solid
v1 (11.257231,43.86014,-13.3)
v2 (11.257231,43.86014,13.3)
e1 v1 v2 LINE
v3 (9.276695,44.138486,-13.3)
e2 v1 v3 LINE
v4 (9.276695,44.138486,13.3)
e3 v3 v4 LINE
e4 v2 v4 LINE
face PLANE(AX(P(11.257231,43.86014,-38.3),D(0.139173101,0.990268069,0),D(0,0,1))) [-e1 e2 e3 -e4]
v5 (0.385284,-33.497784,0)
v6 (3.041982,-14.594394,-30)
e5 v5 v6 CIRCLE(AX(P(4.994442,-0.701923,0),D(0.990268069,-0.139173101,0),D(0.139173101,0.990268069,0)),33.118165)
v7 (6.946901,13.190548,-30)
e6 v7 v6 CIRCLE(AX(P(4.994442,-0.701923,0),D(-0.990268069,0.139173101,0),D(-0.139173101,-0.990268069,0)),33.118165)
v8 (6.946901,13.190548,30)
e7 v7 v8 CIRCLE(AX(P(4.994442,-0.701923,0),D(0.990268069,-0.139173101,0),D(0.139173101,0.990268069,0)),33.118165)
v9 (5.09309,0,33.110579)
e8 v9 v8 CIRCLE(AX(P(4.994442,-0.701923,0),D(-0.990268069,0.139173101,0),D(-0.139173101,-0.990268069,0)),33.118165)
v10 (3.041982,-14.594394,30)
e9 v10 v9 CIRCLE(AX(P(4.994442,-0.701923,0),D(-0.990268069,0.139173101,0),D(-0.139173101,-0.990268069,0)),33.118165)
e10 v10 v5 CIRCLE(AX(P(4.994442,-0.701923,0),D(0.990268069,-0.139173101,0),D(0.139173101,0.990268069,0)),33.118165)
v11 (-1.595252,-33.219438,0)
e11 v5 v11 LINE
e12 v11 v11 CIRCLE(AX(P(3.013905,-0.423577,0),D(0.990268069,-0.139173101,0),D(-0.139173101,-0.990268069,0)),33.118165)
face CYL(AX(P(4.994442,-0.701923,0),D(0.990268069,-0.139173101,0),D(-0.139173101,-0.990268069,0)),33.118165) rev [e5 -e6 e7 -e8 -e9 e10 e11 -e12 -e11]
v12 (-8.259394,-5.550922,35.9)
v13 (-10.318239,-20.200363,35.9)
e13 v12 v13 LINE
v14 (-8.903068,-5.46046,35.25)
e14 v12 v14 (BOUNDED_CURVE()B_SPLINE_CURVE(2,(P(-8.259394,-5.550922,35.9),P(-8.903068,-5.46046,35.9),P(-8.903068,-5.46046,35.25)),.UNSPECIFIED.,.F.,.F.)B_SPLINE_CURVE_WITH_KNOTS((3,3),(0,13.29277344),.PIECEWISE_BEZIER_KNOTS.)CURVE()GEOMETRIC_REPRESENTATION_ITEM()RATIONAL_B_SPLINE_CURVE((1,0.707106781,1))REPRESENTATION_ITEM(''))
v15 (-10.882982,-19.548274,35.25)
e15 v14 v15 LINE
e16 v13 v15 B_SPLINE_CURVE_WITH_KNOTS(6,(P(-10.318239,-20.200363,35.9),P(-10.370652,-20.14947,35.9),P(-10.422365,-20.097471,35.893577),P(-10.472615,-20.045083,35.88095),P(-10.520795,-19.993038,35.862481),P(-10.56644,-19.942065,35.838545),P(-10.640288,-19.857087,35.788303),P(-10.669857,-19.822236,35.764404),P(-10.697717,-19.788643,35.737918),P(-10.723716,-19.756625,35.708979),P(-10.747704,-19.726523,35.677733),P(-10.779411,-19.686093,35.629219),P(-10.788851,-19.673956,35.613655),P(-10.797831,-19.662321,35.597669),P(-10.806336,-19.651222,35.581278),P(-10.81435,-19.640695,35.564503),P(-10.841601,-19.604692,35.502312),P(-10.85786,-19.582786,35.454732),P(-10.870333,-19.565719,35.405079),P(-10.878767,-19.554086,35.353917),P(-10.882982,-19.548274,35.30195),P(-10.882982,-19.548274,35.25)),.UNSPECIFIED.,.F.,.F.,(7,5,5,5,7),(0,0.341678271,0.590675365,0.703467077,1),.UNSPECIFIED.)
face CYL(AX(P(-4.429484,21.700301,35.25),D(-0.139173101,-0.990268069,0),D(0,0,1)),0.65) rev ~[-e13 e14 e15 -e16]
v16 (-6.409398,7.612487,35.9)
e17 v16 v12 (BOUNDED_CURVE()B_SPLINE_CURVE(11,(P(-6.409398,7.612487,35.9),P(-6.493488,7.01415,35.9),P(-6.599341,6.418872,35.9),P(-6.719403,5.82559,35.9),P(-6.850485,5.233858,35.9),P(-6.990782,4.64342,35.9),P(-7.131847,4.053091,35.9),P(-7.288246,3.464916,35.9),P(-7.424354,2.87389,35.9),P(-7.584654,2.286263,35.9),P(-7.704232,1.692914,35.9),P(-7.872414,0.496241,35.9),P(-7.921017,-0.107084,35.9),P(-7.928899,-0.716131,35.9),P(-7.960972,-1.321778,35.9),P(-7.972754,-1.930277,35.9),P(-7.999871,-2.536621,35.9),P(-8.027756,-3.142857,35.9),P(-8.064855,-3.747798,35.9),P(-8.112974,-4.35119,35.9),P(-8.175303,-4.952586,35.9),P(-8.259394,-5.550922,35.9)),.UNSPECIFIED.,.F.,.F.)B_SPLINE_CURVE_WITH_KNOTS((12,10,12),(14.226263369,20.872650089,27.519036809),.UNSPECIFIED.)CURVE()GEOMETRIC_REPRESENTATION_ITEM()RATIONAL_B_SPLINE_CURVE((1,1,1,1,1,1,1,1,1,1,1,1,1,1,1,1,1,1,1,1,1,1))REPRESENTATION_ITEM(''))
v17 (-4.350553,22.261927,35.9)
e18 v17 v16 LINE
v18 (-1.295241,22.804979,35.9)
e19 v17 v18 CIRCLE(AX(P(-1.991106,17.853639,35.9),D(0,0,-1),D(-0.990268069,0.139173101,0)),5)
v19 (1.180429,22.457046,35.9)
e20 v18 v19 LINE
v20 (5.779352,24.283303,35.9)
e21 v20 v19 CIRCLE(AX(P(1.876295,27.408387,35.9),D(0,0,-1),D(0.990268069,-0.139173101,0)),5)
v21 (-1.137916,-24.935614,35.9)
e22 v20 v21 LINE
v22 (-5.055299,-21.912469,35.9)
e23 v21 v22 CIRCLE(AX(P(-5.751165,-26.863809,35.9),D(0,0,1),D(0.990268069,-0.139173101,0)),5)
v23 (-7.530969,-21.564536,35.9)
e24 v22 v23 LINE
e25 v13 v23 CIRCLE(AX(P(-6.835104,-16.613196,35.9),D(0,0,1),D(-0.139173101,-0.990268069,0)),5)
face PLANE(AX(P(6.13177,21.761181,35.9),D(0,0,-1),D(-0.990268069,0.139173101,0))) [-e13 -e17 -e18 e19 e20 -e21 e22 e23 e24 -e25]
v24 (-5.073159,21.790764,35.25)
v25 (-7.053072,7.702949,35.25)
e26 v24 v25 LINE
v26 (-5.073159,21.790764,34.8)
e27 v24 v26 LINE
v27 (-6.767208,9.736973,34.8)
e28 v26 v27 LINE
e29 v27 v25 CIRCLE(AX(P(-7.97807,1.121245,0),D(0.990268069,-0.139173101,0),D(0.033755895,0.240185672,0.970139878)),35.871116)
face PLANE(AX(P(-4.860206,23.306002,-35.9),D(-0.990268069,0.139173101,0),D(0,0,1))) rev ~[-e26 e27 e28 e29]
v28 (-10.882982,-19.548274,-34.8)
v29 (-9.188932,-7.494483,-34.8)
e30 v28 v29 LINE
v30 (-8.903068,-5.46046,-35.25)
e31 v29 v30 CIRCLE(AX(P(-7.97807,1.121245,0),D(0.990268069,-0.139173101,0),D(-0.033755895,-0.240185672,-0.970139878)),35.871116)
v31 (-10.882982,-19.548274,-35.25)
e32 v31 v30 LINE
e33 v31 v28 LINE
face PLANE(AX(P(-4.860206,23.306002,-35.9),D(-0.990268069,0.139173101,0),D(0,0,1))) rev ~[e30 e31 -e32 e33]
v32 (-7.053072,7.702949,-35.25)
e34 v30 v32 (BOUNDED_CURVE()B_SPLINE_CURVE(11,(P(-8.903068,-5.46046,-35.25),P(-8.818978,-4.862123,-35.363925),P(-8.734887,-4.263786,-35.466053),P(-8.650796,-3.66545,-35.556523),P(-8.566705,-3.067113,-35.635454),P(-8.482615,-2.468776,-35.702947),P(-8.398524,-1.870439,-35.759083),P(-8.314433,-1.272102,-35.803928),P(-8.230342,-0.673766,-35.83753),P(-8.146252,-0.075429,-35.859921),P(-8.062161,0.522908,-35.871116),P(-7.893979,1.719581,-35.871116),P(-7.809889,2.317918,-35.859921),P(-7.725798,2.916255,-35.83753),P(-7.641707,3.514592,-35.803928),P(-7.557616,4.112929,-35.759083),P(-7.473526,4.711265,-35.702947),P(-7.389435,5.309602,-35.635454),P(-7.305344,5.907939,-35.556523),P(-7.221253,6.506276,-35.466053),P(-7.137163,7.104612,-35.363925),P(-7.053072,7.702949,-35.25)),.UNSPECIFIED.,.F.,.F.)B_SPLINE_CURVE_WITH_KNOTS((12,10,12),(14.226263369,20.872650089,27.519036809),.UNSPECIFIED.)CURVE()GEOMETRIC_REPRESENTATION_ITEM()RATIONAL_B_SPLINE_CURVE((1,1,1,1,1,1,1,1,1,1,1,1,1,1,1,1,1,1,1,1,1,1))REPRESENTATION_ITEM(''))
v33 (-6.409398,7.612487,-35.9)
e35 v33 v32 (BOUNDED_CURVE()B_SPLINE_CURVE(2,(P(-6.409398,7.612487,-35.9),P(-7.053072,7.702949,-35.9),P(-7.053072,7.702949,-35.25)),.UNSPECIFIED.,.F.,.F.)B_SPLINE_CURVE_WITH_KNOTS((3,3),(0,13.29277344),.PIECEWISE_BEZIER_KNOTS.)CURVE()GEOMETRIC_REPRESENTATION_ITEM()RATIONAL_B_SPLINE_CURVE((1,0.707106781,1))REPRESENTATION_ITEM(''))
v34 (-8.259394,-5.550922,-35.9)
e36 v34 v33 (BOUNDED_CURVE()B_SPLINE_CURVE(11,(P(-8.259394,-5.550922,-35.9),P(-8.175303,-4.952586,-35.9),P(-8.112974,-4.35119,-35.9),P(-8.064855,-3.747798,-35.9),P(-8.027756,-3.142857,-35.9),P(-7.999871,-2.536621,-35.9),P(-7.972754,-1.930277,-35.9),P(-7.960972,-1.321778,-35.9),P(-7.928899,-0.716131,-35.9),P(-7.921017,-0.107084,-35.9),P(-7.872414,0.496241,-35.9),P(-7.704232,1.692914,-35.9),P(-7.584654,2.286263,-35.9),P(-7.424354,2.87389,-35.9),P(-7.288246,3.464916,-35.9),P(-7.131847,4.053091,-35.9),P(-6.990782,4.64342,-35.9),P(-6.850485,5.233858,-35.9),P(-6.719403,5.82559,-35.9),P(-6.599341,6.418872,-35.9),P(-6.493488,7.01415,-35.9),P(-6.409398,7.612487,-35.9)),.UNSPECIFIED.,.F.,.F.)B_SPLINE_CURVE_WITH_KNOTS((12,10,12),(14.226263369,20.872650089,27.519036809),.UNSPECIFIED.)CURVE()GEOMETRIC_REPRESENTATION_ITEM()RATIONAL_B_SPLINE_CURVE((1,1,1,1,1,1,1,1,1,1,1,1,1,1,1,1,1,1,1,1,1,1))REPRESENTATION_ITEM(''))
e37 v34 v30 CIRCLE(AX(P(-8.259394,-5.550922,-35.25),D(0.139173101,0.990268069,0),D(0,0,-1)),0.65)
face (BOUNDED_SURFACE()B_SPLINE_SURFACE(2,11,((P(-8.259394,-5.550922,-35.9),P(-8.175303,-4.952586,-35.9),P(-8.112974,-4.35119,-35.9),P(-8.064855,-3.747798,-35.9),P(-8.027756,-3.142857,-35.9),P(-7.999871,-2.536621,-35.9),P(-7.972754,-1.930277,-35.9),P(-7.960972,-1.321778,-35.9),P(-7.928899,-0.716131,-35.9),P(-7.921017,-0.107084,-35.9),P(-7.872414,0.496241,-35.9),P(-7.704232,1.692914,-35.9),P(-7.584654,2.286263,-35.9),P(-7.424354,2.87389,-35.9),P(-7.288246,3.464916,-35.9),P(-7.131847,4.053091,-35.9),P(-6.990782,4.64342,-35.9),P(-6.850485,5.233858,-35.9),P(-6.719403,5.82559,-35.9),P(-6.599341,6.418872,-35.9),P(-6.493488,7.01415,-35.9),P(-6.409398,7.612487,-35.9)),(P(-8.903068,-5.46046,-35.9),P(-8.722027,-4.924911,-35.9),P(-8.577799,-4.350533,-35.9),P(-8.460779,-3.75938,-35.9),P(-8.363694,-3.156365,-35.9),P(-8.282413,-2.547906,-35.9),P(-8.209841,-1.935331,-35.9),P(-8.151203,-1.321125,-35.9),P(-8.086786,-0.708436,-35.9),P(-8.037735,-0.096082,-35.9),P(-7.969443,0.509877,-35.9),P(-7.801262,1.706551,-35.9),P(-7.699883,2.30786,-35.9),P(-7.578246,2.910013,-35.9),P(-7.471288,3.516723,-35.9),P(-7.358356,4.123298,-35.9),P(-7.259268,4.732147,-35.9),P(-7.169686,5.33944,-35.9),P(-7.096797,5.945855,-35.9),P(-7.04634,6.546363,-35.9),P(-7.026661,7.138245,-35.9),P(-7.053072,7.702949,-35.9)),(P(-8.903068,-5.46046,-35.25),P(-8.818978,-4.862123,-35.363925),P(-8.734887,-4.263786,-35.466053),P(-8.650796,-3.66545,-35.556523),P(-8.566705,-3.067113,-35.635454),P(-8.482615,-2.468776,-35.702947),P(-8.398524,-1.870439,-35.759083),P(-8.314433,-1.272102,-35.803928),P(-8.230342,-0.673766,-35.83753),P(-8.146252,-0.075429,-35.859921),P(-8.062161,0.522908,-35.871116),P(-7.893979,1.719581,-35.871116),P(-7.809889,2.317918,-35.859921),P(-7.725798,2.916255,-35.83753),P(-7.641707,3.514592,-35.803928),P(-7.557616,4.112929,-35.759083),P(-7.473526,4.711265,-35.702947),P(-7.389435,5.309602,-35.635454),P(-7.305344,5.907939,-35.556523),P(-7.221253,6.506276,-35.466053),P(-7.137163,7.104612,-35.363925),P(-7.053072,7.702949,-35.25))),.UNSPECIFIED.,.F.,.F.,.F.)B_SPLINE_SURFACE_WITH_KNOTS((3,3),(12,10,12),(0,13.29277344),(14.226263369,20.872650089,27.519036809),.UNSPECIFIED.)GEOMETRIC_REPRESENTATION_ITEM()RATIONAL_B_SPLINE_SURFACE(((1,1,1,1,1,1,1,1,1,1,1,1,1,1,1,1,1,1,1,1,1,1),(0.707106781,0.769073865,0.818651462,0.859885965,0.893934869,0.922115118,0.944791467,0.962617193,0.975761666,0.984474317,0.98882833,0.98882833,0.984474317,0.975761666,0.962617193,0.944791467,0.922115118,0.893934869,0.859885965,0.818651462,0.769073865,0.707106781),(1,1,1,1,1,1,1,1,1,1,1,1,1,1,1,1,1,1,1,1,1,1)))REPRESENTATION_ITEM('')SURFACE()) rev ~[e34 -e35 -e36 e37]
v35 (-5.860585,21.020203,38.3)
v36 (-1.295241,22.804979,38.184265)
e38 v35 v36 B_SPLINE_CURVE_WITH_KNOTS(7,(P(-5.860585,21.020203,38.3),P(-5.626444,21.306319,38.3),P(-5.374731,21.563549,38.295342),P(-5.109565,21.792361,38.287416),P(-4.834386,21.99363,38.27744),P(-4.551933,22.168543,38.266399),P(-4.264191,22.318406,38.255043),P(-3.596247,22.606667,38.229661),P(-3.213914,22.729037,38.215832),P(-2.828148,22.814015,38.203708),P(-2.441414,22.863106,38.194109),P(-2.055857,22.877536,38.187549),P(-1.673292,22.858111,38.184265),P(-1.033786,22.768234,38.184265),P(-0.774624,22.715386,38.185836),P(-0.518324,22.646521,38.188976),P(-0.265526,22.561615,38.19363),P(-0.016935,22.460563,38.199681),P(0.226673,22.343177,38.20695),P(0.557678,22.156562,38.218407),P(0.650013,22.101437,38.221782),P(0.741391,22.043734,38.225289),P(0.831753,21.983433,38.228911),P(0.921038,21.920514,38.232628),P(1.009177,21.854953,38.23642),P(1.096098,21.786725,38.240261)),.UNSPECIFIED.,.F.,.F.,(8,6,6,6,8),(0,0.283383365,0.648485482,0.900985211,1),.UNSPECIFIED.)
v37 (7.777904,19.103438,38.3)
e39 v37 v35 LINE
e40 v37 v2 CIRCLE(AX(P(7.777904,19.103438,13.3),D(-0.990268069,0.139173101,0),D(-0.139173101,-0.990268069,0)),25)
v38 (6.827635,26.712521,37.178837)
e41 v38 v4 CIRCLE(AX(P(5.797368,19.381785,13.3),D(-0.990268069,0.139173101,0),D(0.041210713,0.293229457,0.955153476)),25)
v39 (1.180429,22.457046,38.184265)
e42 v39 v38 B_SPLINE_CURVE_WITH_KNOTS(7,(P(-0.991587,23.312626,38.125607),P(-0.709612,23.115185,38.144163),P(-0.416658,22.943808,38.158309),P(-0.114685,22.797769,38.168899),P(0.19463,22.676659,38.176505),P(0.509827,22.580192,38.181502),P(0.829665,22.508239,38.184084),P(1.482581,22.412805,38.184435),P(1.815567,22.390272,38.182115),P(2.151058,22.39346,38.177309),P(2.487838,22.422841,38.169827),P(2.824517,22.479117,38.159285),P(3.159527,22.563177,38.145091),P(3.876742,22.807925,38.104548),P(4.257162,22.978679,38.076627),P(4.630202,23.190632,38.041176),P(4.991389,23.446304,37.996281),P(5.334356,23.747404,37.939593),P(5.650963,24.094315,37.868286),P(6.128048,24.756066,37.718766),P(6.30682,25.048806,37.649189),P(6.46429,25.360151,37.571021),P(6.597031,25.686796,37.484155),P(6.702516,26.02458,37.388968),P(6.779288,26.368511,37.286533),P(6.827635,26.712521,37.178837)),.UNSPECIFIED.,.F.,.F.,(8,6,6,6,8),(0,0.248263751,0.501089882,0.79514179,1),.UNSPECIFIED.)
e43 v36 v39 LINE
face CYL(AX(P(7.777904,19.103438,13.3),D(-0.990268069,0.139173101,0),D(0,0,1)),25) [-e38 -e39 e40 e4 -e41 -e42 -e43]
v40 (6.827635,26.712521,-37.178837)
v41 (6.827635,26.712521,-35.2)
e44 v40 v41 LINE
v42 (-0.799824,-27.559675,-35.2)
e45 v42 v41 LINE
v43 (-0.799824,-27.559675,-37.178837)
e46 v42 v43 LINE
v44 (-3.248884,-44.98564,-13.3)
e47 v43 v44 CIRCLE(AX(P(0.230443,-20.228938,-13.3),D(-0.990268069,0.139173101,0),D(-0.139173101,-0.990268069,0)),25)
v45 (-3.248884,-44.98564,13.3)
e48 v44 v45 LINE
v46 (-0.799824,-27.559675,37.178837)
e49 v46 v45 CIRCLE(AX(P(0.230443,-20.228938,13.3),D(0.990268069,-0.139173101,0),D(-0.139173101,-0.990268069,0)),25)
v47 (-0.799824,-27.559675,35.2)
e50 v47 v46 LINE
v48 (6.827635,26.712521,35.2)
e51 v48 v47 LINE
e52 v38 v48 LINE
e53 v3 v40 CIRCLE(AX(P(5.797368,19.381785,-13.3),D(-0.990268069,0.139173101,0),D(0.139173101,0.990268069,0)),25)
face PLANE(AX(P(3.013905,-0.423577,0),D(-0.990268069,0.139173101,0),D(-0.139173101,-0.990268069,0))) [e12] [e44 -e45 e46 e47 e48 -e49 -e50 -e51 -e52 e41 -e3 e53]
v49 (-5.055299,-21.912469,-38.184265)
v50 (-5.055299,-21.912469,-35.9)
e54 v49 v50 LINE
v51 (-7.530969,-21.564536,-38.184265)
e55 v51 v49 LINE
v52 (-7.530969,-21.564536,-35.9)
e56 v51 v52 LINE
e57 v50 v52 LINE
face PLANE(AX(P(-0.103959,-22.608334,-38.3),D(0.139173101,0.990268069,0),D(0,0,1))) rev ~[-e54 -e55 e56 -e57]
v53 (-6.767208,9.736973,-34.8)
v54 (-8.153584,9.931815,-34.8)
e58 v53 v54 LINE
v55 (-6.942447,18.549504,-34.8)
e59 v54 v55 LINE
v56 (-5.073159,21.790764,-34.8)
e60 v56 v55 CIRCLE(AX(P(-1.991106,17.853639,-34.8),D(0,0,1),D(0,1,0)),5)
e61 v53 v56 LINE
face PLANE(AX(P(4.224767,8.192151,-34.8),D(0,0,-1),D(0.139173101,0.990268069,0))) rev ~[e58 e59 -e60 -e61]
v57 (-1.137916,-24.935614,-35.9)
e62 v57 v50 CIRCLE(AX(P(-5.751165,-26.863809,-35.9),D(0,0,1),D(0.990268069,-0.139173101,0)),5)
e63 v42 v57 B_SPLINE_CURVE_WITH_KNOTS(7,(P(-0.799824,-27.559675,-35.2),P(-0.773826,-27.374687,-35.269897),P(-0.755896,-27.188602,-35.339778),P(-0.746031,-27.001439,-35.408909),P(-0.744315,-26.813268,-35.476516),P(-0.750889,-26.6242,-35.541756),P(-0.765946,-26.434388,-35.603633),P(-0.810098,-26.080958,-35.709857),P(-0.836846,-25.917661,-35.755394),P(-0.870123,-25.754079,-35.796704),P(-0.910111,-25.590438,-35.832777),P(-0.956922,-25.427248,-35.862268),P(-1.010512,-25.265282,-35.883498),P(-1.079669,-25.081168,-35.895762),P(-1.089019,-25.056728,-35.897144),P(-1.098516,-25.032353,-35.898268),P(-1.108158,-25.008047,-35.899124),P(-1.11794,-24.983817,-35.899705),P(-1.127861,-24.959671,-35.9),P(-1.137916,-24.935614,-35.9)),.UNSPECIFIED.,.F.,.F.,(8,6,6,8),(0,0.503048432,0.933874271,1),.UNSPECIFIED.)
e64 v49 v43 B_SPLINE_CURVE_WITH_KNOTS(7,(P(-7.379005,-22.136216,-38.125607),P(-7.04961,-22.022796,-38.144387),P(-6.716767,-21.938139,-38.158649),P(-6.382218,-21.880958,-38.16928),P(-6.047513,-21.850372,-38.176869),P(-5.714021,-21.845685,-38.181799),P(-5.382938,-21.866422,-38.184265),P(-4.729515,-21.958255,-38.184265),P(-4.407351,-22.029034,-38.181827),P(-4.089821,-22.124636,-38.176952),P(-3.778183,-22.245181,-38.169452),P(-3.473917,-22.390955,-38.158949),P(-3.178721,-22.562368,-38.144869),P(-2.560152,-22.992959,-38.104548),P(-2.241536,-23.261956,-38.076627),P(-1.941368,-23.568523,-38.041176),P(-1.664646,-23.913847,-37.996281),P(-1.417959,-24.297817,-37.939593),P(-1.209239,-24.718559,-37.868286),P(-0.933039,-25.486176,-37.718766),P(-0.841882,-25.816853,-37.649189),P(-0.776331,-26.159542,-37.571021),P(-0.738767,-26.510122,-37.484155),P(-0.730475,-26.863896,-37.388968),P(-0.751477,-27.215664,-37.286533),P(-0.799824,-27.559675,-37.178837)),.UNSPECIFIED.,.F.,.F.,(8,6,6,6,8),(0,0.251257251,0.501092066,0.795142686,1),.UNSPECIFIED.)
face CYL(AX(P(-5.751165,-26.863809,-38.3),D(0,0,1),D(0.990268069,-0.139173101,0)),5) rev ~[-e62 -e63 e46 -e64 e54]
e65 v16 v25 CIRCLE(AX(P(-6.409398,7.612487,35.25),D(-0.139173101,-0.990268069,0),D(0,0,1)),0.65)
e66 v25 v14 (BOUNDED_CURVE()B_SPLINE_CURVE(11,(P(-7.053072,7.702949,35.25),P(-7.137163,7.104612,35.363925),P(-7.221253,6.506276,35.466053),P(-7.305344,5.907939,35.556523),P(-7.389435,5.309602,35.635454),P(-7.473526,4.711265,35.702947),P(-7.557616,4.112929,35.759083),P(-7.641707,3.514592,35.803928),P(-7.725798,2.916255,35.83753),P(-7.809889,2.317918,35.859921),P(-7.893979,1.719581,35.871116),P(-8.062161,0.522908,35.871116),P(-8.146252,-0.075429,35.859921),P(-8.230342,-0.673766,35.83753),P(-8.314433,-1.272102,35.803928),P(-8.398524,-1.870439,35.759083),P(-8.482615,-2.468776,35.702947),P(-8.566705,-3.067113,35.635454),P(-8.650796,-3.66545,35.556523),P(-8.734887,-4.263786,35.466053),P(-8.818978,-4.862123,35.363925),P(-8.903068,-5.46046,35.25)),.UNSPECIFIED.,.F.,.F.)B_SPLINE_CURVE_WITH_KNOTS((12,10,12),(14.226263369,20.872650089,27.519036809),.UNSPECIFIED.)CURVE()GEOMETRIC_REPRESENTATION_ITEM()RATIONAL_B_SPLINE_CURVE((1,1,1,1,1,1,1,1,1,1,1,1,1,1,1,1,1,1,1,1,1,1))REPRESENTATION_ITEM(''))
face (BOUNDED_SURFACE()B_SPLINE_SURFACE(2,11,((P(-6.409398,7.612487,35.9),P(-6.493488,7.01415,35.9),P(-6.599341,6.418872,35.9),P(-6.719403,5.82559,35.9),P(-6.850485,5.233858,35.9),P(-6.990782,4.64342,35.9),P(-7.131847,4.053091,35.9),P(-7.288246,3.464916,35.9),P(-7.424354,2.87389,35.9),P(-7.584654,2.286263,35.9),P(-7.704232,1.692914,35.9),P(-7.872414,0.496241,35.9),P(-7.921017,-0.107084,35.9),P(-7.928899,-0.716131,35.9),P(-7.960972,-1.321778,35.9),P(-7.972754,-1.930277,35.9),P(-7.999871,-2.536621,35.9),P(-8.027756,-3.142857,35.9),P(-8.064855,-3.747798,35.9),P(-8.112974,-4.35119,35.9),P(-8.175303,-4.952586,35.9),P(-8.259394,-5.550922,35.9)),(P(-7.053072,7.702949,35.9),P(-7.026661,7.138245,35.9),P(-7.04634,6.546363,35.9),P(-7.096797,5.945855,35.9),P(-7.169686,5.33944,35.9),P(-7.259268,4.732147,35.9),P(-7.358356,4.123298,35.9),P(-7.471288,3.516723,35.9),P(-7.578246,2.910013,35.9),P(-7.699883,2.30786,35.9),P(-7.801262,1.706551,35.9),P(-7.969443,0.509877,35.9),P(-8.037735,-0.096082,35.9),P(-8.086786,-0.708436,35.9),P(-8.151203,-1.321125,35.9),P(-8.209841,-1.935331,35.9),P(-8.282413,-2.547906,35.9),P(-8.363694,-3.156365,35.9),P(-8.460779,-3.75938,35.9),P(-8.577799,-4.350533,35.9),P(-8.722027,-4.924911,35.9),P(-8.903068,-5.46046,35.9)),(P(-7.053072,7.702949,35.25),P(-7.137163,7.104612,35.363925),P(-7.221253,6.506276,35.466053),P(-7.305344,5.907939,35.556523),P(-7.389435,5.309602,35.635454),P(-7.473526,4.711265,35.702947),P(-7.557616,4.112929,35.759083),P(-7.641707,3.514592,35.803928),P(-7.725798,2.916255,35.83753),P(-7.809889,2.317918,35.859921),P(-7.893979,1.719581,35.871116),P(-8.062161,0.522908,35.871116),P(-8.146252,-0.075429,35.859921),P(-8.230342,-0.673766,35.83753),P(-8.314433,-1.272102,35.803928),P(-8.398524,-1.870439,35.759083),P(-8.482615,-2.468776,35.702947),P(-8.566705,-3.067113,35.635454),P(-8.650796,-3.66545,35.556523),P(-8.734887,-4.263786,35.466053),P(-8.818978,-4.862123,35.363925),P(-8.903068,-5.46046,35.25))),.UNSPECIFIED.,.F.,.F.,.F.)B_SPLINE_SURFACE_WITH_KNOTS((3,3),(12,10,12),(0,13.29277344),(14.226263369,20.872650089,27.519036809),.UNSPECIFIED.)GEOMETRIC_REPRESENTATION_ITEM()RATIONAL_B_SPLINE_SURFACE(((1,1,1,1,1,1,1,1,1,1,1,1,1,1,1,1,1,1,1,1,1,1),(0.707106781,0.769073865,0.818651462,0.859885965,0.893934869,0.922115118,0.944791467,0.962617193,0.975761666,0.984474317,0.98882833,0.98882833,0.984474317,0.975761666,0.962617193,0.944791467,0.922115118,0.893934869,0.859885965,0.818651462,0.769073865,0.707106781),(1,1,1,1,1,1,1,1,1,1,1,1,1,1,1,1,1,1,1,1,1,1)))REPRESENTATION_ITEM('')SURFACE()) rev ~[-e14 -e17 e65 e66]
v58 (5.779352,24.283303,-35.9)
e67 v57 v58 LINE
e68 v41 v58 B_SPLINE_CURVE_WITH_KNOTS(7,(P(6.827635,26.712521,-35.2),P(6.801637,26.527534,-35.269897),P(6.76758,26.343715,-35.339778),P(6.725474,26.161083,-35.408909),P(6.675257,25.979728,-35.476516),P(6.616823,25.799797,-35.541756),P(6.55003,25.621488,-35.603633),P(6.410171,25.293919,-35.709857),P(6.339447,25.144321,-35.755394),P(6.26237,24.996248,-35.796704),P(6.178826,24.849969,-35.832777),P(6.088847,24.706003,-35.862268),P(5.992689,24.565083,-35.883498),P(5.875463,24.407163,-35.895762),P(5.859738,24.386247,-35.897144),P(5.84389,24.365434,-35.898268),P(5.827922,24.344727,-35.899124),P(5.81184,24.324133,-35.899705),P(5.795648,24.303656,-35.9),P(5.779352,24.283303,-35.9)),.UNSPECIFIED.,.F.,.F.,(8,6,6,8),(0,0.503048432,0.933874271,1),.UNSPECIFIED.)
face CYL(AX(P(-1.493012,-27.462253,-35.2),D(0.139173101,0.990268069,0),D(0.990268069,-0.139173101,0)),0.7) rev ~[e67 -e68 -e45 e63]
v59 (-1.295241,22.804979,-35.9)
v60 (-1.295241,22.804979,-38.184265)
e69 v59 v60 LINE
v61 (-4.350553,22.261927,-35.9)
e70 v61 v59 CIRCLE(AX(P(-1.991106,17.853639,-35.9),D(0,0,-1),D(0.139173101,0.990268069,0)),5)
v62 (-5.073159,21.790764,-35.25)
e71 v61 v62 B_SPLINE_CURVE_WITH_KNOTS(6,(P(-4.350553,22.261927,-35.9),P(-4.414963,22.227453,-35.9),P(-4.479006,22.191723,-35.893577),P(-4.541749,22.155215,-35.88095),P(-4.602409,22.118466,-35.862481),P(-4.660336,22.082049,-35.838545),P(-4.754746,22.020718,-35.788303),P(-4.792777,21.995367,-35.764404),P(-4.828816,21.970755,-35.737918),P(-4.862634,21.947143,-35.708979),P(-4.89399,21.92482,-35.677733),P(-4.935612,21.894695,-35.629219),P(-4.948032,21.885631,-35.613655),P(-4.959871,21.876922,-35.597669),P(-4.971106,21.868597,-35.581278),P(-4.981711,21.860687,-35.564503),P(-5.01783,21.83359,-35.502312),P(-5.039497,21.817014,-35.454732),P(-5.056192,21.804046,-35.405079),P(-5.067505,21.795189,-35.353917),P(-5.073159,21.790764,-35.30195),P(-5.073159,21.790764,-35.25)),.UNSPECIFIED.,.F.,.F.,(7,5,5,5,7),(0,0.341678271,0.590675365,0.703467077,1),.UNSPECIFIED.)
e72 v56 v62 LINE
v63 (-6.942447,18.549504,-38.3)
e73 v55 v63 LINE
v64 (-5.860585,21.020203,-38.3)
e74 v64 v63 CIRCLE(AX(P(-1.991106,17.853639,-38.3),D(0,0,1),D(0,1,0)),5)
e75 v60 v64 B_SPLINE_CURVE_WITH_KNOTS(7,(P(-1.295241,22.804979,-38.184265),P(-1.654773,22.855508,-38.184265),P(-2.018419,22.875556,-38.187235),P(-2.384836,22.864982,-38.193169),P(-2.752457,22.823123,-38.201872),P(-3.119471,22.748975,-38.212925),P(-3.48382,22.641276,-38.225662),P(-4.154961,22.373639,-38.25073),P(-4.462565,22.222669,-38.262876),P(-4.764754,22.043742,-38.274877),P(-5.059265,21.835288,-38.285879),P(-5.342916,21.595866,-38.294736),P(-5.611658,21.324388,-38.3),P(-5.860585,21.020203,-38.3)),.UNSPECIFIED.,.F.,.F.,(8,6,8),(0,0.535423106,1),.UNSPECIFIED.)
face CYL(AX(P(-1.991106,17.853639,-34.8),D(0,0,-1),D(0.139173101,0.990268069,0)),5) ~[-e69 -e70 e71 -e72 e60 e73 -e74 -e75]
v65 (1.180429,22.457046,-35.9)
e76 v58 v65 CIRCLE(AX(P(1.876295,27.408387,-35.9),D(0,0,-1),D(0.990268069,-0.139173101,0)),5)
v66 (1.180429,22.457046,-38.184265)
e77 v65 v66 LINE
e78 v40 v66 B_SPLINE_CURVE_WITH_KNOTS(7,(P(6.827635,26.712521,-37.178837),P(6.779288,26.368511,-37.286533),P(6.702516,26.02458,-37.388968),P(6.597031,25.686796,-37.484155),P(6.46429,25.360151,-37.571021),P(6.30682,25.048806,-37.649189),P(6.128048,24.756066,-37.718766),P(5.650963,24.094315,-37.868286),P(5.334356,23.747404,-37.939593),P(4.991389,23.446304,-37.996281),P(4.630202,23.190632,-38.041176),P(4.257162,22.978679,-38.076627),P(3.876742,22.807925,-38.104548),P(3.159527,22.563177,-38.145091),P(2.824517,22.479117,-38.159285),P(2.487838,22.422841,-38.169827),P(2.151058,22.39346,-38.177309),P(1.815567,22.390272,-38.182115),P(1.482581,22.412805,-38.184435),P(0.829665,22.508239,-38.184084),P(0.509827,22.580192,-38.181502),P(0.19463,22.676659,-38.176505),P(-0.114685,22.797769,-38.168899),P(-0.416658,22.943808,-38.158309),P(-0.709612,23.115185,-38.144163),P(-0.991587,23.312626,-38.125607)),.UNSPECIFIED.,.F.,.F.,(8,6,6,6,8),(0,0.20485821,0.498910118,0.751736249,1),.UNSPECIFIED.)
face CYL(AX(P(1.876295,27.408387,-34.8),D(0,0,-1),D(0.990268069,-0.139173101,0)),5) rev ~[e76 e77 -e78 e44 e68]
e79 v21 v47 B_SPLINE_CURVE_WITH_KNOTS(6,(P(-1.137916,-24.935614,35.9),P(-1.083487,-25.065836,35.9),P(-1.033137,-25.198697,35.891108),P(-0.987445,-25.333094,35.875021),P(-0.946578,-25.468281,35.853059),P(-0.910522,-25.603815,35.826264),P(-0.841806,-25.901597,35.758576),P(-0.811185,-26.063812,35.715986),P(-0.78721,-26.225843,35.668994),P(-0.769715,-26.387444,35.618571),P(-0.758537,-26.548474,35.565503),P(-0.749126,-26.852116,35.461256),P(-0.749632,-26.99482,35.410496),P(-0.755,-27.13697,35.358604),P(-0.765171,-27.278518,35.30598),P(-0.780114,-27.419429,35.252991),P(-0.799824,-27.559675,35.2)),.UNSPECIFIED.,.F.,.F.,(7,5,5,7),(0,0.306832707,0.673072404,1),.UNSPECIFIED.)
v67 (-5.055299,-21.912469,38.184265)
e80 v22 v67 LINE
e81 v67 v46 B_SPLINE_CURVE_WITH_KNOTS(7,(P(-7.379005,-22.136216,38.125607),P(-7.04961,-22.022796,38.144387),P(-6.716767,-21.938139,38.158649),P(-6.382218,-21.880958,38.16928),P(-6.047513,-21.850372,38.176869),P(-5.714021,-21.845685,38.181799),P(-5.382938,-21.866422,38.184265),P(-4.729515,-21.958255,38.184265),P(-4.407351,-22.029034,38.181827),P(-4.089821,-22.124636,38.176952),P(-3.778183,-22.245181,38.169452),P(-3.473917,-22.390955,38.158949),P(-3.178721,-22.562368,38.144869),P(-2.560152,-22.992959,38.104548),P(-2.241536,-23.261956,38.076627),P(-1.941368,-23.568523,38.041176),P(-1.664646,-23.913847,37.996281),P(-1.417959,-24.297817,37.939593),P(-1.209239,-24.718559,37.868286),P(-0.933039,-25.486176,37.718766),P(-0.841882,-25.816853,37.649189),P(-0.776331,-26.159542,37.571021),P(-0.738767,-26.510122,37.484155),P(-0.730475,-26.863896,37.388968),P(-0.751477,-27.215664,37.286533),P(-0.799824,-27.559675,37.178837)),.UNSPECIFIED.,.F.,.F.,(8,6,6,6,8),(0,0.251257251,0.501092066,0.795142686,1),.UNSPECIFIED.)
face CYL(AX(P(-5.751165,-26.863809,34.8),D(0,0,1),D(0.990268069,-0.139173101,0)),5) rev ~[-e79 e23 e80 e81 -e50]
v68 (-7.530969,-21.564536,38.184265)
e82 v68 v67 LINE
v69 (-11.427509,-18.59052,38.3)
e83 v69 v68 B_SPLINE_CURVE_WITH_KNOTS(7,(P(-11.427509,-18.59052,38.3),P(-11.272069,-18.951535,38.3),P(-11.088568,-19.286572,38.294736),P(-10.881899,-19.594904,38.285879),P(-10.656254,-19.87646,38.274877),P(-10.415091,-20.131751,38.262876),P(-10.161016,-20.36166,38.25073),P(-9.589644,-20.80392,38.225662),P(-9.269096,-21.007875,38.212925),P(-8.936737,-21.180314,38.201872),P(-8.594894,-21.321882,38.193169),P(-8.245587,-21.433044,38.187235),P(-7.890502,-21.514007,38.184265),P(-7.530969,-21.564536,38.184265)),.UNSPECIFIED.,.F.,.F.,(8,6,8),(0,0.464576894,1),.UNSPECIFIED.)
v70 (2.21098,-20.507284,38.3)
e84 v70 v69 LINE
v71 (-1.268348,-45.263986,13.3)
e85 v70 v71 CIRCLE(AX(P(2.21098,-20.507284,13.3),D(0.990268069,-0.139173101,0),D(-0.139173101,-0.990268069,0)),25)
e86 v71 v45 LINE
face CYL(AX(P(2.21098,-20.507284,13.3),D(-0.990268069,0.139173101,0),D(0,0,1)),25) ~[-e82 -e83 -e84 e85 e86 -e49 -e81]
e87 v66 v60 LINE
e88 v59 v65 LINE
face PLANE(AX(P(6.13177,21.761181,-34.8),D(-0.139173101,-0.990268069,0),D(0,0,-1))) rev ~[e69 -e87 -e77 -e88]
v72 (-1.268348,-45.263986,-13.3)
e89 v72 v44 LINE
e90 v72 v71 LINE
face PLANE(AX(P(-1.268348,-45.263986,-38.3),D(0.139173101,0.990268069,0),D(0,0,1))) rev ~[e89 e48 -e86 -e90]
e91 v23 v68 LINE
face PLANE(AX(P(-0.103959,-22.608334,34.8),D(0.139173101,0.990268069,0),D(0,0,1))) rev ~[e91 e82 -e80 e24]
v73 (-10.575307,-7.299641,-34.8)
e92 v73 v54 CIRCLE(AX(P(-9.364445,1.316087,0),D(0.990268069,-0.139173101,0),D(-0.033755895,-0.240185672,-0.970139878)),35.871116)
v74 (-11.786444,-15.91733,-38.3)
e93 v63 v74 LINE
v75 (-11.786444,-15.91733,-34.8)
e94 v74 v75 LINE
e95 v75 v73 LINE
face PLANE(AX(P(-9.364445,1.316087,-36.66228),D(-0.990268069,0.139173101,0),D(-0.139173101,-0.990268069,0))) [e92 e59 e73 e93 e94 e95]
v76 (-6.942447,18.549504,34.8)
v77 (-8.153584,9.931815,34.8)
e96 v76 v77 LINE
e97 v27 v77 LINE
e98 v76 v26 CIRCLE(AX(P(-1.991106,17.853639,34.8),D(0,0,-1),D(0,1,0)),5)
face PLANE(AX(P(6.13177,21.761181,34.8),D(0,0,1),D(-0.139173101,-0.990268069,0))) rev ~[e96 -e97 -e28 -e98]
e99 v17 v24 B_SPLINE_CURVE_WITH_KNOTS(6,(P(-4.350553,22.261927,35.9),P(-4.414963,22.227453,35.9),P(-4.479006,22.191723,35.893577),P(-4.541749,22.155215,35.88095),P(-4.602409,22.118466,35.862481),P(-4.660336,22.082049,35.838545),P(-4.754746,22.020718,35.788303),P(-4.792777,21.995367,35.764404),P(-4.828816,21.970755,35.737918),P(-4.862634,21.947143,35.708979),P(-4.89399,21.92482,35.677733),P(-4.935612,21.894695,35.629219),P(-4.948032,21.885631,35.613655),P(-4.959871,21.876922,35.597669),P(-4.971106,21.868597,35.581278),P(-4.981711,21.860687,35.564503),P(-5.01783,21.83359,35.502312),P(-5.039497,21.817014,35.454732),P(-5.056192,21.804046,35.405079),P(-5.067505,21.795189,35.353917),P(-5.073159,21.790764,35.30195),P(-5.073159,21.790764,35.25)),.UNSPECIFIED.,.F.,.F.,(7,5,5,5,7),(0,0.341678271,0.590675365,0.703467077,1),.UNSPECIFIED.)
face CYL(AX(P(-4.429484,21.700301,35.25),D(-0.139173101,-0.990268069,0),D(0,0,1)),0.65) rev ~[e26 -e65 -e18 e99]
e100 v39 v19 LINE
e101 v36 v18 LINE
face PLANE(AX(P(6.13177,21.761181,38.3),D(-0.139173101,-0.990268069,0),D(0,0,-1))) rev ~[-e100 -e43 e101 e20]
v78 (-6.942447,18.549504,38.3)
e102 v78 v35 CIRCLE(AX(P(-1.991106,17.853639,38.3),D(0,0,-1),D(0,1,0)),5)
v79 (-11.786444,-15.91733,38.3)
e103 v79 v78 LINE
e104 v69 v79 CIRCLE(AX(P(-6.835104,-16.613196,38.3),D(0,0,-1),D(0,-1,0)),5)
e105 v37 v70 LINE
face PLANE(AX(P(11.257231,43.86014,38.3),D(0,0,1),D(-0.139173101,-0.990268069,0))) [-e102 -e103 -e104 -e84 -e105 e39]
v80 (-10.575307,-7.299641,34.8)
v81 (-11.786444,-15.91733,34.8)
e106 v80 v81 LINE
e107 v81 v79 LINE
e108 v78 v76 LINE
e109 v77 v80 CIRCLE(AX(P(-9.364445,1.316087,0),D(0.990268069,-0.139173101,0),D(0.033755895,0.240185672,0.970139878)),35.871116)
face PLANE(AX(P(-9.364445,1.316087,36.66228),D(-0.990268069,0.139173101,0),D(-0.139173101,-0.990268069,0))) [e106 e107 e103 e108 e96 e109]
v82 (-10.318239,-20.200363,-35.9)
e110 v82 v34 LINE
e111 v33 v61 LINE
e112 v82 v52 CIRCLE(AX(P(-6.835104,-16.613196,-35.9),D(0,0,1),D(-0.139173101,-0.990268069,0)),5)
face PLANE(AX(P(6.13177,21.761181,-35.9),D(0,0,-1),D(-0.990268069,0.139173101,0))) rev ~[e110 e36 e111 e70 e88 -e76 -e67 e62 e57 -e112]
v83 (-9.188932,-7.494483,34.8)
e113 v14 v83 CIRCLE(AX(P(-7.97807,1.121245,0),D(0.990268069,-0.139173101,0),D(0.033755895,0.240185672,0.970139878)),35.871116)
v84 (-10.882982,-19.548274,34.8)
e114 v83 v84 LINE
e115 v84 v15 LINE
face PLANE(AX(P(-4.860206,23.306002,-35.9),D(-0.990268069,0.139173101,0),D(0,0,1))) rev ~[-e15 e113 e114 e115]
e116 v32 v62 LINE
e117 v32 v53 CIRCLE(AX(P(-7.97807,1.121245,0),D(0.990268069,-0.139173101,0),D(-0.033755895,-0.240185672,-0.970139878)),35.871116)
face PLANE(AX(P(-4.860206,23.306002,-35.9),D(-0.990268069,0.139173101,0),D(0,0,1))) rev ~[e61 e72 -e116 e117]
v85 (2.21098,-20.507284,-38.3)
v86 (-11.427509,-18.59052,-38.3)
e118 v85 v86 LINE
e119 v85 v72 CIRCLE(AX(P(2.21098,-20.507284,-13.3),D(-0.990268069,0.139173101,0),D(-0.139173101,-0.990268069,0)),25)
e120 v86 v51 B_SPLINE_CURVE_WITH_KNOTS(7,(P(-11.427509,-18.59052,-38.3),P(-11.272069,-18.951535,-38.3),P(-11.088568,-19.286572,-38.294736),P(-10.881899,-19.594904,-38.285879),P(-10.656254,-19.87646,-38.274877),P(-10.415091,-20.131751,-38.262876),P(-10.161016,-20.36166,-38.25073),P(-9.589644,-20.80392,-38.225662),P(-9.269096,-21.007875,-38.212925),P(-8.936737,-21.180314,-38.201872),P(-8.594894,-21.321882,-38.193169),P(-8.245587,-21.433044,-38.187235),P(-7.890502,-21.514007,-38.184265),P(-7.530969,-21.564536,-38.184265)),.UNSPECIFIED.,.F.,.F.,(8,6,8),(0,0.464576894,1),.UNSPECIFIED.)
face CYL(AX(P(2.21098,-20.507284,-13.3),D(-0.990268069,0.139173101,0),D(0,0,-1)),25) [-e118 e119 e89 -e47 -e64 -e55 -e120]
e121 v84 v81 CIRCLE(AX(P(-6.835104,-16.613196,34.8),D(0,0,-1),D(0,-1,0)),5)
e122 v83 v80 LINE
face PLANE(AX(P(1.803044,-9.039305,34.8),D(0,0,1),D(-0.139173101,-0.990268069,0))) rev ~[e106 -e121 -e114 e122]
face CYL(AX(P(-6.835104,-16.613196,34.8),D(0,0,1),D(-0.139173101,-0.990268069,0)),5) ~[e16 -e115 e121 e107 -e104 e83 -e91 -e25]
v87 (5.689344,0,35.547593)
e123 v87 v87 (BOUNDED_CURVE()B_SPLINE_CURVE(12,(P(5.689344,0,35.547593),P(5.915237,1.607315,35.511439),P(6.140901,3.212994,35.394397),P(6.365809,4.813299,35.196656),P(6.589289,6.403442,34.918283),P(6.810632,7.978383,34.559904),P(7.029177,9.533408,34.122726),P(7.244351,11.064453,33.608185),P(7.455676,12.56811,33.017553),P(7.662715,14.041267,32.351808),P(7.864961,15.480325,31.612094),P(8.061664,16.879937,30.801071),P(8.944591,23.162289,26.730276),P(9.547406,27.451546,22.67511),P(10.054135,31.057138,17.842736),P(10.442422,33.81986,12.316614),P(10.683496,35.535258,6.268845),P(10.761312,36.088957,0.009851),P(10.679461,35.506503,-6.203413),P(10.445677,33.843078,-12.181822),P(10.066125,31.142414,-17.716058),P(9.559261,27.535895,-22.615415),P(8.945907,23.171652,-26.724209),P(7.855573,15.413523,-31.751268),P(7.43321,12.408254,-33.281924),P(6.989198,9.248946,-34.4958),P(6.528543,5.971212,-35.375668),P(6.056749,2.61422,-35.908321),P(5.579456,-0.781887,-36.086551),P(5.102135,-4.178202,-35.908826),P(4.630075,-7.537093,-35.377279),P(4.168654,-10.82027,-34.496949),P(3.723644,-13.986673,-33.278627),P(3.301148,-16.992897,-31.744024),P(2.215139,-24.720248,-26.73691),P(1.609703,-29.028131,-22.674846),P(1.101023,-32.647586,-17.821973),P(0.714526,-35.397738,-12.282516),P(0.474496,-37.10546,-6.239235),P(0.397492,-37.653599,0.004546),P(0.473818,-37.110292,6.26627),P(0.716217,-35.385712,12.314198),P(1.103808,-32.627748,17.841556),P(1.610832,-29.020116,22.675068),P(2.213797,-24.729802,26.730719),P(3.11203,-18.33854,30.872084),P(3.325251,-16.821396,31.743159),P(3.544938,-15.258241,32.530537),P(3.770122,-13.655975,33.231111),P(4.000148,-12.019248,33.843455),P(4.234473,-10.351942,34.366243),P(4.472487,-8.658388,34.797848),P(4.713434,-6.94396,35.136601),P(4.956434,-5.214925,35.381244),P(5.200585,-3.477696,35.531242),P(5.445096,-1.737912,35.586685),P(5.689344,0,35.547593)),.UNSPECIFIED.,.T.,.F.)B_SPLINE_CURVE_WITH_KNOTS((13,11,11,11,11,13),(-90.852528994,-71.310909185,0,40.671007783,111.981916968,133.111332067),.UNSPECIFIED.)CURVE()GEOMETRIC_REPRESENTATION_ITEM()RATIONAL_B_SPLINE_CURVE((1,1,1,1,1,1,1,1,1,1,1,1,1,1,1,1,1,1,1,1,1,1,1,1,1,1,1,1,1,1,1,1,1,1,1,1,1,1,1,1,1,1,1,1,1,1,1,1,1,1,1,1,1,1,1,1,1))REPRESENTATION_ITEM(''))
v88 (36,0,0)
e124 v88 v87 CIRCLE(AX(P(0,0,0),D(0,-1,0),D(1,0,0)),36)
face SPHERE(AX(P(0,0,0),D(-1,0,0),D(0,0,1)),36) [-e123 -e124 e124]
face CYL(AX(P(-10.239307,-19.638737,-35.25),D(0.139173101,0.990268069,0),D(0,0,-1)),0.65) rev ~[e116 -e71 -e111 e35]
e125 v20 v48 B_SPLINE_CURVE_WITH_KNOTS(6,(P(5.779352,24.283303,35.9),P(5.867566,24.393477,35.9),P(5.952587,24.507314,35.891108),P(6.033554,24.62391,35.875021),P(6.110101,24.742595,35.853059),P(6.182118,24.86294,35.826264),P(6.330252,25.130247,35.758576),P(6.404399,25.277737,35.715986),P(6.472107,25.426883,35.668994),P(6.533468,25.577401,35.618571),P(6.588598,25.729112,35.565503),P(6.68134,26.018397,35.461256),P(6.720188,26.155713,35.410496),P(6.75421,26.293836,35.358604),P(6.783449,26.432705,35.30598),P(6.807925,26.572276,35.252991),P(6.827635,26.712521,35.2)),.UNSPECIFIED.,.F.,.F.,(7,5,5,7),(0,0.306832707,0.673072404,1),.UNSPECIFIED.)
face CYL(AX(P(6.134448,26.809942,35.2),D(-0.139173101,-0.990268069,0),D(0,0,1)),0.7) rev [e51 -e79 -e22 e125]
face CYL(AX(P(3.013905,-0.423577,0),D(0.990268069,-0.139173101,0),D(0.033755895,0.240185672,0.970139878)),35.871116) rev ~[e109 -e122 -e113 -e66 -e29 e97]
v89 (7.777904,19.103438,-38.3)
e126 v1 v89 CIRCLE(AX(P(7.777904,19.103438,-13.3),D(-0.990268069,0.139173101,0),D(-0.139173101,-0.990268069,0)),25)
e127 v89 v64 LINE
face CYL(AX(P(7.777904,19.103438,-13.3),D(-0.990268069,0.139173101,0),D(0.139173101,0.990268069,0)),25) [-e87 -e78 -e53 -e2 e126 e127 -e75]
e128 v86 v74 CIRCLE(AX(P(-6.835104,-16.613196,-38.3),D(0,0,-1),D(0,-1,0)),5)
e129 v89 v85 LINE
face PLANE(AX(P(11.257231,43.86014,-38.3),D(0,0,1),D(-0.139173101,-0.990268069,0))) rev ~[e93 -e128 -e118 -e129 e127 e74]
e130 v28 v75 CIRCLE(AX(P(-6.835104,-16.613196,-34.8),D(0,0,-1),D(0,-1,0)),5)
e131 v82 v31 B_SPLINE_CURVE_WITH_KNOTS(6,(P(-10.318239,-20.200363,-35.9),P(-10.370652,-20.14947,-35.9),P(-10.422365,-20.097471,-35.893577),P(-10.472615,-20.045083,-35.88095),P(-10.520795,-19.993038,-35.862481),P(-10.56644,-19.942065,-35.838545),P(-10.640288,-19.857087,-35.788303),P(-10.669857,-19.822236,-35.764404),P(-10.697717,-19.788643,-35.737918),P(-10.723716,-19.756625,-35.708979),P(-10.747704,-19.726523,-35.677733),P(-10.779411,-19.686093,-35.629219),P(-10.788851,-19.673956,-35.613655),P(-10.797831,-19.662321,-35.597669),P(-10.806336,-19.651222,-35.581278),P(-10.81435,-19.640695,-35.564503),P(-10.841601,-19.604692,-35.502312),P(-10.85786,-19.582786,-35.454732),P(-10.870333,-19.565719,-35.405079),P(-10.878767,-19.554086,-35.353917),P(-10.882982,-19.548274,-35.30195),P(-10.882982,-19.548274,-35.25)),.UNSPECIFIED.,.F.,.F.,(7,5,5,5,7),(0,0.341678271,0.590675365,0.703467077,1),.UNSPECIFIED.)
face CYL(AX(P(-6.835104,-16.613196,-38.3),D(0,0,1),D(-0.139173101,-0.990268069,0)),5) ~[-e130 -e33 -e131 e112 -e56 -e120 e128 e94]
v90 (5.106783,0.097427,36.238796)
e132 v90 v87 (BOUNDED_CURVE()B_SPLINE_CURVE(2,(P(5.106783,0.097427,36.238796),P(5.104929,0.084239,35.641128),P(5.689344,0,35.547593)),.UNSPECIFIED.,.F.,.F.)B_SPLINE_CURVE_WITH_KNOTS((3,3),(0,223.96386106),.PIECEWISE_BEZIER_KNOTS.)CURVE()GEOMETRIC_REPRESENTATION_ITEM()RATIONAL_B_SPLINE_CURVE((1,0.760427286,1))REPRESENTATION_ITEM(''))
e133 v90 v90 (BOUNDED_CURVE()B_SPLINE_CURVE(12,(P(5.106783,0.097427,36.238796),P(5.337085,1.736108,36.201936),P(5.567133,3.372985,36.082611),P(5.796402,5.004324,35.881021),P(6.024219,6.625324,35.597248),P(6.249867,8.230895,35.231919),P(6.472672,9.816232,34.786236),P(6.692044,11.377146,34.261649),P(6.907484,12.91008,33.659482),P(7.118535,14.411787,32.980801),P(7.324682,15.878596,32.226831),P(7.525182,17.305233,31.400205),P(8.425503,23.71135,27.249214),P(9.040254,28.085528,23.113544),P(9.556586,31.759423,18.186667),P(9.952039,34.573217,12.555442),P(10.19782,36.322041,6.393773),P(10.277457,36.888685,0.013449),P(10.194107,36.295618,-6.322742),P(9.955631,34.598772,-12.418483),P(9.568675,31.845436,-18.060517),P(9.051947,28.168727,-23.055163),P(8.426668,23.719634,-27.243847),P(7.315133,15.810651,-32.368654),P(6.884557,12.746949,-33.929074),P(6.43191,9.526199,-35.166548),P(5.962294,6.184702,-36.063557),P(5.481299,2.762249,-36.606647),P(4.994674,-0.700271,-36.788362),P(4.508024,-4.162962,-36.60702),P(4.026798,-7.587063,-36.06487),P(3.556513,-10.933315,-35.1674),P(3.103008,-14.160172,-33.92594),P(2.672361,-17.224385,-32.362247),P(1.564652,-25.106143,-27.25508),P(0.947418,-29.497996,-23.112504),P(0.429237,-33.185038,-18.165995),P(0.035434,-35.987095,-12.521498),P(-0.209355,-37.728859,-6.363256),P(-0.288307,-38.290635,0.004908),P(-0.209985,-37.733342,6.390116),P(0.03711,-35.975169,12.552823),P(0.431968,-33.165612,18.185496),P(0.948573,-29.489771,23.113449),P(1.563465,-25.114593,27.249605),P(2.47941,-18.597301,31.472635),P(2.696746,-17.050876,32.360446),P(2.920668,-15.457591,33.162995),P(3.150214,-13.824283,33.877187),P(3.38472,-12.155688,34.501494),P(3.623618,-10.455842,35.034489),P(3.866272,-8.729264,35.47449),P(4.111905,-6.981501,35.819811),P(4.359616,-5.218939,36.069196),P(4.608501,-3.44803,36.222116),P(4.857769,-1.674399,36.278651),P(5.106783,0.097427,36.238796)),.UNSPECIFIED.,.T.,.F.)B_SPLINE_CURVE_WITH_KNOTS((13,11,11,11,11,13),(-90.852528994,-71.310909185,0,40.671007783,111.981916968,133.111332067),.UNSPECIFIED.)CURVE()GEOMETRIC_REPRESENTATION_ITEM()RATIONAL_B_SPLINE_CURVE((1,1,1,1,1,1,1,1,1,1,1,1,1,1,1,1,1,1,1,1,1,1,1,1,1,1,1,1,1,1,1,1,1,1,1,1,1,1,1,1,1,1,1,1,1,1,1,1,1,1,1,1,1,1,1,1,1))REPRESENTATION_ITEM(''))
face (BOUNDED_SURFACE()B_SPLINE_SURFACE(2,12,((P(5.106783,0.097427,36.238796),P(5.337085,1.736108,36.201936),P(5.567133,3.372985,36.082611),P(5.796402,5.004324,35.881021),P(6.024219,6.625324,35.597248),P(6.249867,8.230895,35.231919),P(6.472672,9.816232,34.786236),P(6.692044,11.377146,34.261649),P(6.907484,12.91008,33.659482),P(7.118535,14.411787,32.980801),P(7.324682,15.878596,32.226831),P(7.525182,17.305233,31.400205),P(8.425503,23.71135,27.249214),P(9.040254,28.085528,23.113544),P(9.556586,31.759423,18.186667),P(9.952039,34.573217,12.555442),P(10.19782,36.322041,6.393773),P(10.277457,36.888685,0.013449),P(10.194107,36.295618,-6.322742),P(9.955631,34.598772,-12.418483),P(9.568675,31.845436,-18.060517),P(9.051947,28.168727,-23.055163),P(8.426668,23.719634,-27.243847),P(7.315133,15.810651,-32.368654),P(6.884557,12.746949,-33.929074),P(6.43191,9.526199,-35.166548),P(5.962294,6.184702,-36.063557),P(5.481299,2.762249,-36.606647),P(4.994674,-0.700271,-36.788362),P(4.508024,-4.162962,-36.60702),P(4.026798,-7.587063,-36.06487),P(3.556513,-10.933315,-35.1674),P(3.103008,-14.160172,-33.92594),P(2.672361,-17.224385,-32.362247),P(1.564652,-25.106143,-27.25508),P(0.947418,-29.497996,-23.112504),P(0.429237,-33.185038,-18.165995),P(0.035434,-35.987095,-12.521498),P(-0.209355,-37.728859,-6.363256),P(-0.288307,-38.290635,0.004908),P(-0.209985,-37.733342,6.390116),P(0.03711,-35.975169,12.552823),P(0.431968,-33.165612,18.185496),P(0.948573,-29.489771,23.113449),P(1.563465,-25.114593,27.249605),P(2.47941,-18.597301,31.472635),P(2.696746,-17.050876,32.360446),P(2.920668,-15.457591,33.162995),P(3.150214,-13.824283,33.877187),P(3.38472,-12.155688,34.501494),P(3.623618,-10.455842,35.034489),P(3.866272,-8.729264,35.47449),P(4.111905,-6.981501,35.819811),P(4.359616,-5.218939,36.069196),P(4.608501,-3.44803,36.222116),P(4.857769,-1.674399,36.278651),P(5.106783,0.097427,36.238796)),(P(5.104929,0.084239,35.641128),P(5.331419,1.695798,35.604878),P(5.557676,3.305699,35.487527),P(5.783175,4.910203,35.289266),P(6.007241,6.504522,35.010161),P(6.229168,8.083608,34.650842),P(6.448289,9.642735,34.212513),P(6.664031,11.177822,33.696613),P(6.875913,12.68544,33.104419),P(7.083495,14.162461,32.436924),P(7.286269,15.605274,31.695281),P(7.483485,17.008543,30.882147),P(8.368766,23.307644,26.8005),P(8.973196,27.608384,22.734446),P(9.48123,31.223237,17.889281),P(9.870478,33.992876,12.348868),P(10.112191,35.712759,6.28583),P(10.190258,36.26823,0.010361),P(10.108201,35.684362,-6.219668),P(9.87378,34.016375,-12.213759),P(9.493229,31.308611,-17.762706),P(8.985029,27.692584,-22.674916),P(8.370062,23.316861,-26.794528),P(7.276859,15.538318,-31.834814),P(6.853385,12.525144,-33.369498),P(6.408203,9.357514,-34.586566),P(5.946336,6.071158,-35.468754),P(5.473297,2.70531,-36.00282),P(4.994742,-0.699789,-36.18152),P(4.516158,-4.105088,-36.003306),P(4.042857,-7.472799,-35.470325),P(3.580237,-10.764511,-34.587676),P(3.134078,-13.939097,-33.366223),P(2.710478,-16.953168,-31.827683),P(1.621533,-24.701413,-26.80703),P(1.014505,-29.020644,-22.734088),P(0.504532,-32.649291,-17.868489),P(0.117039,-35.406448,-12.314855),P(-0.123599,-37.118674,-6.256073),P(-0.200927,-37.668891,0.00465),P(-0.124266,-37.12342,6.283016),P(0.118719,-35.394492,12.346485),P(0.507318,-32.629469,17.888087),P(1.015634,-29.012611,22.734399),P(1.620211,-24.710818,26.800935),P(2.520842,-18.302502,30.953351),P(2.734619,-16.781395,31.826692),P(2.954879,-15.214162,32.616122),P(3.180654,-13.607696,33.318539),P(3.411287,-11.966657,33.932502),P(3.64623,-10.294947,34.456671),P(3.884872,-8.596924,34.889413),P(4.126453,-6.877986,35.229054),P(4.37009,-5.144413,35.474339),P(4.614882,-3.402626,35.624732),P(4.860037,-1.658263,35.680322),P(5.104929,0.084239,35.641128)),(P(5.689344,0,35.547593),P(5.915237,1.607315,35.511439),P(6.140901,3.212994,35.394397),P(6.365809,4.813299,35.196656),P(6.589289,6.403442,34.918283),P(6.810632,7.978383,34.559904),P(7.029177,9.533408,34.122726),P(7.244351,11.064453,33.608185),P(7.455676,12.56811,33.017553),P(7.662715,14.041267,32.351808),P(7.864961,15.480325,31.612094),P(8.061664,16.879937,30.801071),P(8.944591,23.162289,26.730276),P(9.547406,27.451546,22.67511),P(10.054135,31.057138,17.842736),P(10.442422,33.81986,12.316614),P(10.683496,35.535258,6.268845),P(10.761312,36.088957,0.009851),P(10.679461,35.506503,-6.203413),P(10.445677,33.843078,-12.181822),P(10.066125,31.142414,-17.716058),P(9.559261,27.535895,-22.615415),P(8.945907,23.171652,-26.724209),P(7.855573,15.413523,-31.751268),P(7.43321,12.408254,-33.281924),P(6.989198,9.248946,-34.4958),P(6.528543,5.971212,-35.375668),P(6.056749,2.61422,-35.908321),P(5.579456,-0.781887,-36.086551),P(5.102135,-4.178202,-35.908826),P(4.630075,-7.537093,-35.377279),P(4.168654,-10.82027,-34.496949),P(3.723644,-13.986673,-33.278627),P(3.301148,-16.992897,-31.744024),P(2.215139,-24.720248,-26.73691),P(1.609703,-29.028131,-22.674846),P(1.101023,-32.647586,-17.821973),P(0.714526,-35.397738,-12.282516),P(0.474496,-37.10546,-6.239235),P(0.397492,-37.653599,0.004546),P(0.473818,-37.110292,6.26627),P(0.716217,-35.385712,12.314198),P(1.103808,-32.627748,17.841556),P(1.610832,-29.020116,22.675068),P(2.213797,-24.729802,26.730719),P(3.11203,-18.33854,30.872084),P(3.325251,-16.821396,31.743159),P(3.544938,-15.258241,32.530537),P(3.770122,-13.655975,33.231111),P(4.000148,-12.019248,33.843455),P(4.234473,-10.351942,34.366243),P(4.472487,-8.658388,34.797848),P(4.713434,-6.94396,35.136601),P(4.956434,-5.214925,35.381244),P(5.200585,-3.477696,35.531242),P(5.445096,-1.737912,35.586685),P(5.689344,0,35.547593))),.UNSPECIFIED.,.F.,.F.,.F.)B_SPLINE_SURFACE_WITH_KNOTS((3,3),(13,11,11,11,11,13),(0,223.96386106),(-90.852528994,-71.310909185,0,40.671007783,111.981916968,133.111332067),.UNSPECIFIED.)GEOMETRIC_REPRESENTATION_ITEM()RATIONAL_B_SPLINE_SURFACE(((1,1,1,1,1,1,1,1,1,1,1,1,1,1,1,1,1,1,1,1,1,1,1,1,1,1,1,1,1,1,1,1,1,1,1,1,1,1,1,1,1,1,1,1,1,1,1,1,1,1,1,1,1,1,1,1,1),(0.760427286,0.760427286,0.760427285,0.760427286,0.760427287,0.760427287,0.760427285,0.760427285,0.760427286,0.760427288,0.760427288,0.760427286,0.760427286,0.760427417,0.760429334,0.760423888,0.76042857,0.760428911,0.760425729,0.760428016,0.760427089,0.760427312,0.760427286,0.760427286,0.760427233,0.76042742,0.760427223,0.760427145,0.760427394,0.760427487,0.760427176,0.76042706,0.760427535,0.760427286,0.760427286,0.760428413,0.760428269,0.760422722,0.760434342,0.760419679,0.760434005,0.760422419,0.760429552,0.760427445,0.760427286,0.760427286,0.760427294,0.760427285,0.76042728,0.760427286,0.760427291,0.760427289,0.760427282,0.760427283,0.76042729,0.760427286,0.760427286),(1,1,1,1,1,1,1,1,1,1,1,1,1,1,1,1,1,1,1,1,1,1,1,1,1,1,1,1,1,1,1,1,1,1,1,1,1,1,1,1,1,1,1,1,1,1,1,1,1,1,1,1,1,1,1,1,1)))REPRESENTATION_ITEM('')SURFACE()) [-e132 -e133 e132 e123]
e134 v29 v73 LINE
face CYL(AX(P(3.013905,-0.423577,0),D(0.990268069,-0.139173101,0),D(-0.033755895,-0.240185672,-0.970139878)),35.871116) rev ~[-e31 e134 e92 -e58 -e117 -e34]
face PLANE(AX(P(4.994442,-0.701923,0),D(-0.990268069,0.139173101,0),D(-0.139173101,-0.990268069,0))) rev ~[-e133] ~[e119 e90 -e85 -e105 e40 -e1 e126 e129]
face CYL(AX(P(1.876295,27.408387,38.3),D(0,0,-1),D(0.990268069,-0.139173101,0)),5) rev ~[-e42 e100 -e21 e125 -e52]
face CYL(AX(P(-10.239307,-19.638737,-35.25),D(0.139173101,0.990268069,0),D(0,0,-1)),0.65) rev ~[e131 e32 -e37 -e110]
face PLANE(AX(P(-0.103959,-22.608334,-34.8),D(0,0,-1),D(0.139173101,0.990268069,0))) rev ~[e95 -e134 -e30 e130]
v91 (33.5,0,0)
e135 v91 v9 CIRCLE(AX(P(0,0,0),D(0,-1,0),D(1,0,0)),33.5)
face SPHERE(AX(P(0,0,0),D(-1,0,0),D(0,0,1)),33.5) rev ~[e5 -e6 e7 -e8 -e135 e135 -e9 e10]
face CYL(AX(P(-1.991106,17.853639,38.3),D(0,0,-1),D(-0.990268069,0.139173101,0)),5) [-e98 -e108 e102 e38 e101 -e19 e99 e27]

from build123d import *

# Parameters (mm, degrees)
F3_T      = -2.5
F4_DEPTH  = 30
F5_W      = 90
F5_H      = 76.6
F5_R      = 33.1181650608
F6_DEPTH  = 2
F8_DEPTH  = 12.5
F9_R      = 5
F10_R     = 25
F11_W     = 11.1
F11_H     = 71.8
F12_DEPTH = 50
F13_R     = 0.65
F14_R     = 0.7


with BuildPart() as f1:
    # F0 (on Front) → F1 (revolve)
    with BuildSketch(Plane.XZ):
        with BuildLine():
            Line((0, 0), (36, 0))
            ThreePointArc((36, 0), (25.4558441227, 25.4558441227), (0, 36))
            Line((0, 36), (0, 0))
        make_face()
    revolve(axis=Axis((-18.0951004178, 0, 0), (-1, 0, 0)))

    # F3
    f3_openings = [f1.faces().sort_by_distance(p)[0] for p in [
        (0, 0, 0),
    ]]
    offset(amount=F3_T, openings=f3_openings)

    # F2 (on Top) → F4 (cut, symmetric)
    with BuildSketch(Plane.XY):
        Polygon((0, 36.4718921483), (0, -36.2392216921), (10.2188806313, 36.4718921483), align=None)
    extrude(amount=F4_DEPTH, both=True, mode=Mode.SUBTRACT)

    # F5 (on face) → F6 (join)
    with BuildSketch(Plane(origin=(4.994441622, -0.7019229944, 0), x_dir=(-0.139173101, -0.9902680687, 0), z_dir=(-0.9902680687, 0.139173101, 0))):
        Rectangle(F5_W, F5_H)
        Circle(F5_R, mode=Mode.SUBTRACT)
    extrude(amount=F6_DEPTH)

    # F7 (on face) → F8 (join)
    with BuildSketch(Plane(origin=(3.0139054846, -0.4235767925, 0), x_dir=(-0.139173101, -0.9902680687, 0), z_dir=(-0.9902680687, 0.139173101, 0))):
        with BuildLine():
            Line((8.7003997857, 34.8), (22.4027797757, 34.8))
            Line((22.4027797757, 34.8), (22.4027797757, 38.3))
            Line((22.4027797757, 38.3), (-22.4027797757, 38.3))
            Line((-22.4027797757, 38.3), (-22.4027797757, 34.8))
            Line((-22.4027797757, 34.8), (-8.7003997857, 34.8))
            ThreePointArc((-8.7003997857, 34.8), (0, 35.8711159072), (8.7003997857, 34.8))
        make_face()
        with BuildLine():
            Line((-22.4027797757, -38.3), (22.4027797757, -38.3))
            Line((22.4027797757, -38.3), (22.4027797757, -34.8))
            Line((22.4027797757, -34.8), (8.7003997857, -34.8))
            ThreePointArc((8.7003997857, -34.8), (0, -35.8711159072), (-8.7003997857, -34.8))
            Line((-8.7003997857, -34.8), (-22.4027797757, -34.8))
            Line((-22.4027797757, -34.8), (-22.4027797757, -38.3))
        make_face()
    extrude(amount=F8_DEPTH)

    # F9
    f9_edges = [f1.edges().sort_by_distance(p)[0] for p in [
        (6.13177, 21.761181, 36.55),
        (-6.246581, 23.500844, 36.55),
        (-12.48231, -20.86867, 36.55),
        (-0.103959, -22.608334, 36.55),
        (-0.103959, -22.608334, -36.55),
        (-12.48231, -20.86867, -36.55),
        (-6.246581, 23.500844, -36.55),
        (6.13177, 21.761181, -36.55),
    ]]
    fillet(f9_edges, radius=F9_R)

    # F10
    f10_edges = [f1.edges().sort_by_distance(p)[0] for p in [
        (10.266963, 43.999313, 38.3),
        (10.266963, 43.999313, -38.3),
        (-2.258616, -45.124813, -38.3),
        (-2.258616, -45.124813, 38.3),
    ]]
    fillet(f10_edges, radius=F10_R)

    # F11 (on face) → F12 (cut, symmetric)
    with BuildSketch(Plane(origin=(3.1178643315, 22.184757463, 0), x_dir=(-0.9902680687, 0.139173101, 0), z_dir=(0.139173101, 0.9902680687, 0))):
        with Locations((2.5064751407, 0)):
            Rectangle(F11_W, F11_H)
    extrude(amount=F12_DEPTH, both=True, mode=Mode.SUBTRACT)

    # F13
    f13_edges = [f1.edges().sort_by_distance(p)[0] for p in [
        (-7.97807, 1.121245, 35.9),
        (-7.97807, 1.121245, -35.9),
    ]]
    fillet(f13_edges, radius=F13_R)

    # F14
    f14_edges = [f1.edges().sort_by_distance(p)[0] for p in [
        (27.196978, 0, 23.586529),
        (4.895793, -1.403846, -35.637907),
        (3.013905, -0.423577, -35.9),
        (3.013905, -0.423577, 35.9),
    ]]
    fillet(f14_edges, radius=F14_R)


solid = f1.part
